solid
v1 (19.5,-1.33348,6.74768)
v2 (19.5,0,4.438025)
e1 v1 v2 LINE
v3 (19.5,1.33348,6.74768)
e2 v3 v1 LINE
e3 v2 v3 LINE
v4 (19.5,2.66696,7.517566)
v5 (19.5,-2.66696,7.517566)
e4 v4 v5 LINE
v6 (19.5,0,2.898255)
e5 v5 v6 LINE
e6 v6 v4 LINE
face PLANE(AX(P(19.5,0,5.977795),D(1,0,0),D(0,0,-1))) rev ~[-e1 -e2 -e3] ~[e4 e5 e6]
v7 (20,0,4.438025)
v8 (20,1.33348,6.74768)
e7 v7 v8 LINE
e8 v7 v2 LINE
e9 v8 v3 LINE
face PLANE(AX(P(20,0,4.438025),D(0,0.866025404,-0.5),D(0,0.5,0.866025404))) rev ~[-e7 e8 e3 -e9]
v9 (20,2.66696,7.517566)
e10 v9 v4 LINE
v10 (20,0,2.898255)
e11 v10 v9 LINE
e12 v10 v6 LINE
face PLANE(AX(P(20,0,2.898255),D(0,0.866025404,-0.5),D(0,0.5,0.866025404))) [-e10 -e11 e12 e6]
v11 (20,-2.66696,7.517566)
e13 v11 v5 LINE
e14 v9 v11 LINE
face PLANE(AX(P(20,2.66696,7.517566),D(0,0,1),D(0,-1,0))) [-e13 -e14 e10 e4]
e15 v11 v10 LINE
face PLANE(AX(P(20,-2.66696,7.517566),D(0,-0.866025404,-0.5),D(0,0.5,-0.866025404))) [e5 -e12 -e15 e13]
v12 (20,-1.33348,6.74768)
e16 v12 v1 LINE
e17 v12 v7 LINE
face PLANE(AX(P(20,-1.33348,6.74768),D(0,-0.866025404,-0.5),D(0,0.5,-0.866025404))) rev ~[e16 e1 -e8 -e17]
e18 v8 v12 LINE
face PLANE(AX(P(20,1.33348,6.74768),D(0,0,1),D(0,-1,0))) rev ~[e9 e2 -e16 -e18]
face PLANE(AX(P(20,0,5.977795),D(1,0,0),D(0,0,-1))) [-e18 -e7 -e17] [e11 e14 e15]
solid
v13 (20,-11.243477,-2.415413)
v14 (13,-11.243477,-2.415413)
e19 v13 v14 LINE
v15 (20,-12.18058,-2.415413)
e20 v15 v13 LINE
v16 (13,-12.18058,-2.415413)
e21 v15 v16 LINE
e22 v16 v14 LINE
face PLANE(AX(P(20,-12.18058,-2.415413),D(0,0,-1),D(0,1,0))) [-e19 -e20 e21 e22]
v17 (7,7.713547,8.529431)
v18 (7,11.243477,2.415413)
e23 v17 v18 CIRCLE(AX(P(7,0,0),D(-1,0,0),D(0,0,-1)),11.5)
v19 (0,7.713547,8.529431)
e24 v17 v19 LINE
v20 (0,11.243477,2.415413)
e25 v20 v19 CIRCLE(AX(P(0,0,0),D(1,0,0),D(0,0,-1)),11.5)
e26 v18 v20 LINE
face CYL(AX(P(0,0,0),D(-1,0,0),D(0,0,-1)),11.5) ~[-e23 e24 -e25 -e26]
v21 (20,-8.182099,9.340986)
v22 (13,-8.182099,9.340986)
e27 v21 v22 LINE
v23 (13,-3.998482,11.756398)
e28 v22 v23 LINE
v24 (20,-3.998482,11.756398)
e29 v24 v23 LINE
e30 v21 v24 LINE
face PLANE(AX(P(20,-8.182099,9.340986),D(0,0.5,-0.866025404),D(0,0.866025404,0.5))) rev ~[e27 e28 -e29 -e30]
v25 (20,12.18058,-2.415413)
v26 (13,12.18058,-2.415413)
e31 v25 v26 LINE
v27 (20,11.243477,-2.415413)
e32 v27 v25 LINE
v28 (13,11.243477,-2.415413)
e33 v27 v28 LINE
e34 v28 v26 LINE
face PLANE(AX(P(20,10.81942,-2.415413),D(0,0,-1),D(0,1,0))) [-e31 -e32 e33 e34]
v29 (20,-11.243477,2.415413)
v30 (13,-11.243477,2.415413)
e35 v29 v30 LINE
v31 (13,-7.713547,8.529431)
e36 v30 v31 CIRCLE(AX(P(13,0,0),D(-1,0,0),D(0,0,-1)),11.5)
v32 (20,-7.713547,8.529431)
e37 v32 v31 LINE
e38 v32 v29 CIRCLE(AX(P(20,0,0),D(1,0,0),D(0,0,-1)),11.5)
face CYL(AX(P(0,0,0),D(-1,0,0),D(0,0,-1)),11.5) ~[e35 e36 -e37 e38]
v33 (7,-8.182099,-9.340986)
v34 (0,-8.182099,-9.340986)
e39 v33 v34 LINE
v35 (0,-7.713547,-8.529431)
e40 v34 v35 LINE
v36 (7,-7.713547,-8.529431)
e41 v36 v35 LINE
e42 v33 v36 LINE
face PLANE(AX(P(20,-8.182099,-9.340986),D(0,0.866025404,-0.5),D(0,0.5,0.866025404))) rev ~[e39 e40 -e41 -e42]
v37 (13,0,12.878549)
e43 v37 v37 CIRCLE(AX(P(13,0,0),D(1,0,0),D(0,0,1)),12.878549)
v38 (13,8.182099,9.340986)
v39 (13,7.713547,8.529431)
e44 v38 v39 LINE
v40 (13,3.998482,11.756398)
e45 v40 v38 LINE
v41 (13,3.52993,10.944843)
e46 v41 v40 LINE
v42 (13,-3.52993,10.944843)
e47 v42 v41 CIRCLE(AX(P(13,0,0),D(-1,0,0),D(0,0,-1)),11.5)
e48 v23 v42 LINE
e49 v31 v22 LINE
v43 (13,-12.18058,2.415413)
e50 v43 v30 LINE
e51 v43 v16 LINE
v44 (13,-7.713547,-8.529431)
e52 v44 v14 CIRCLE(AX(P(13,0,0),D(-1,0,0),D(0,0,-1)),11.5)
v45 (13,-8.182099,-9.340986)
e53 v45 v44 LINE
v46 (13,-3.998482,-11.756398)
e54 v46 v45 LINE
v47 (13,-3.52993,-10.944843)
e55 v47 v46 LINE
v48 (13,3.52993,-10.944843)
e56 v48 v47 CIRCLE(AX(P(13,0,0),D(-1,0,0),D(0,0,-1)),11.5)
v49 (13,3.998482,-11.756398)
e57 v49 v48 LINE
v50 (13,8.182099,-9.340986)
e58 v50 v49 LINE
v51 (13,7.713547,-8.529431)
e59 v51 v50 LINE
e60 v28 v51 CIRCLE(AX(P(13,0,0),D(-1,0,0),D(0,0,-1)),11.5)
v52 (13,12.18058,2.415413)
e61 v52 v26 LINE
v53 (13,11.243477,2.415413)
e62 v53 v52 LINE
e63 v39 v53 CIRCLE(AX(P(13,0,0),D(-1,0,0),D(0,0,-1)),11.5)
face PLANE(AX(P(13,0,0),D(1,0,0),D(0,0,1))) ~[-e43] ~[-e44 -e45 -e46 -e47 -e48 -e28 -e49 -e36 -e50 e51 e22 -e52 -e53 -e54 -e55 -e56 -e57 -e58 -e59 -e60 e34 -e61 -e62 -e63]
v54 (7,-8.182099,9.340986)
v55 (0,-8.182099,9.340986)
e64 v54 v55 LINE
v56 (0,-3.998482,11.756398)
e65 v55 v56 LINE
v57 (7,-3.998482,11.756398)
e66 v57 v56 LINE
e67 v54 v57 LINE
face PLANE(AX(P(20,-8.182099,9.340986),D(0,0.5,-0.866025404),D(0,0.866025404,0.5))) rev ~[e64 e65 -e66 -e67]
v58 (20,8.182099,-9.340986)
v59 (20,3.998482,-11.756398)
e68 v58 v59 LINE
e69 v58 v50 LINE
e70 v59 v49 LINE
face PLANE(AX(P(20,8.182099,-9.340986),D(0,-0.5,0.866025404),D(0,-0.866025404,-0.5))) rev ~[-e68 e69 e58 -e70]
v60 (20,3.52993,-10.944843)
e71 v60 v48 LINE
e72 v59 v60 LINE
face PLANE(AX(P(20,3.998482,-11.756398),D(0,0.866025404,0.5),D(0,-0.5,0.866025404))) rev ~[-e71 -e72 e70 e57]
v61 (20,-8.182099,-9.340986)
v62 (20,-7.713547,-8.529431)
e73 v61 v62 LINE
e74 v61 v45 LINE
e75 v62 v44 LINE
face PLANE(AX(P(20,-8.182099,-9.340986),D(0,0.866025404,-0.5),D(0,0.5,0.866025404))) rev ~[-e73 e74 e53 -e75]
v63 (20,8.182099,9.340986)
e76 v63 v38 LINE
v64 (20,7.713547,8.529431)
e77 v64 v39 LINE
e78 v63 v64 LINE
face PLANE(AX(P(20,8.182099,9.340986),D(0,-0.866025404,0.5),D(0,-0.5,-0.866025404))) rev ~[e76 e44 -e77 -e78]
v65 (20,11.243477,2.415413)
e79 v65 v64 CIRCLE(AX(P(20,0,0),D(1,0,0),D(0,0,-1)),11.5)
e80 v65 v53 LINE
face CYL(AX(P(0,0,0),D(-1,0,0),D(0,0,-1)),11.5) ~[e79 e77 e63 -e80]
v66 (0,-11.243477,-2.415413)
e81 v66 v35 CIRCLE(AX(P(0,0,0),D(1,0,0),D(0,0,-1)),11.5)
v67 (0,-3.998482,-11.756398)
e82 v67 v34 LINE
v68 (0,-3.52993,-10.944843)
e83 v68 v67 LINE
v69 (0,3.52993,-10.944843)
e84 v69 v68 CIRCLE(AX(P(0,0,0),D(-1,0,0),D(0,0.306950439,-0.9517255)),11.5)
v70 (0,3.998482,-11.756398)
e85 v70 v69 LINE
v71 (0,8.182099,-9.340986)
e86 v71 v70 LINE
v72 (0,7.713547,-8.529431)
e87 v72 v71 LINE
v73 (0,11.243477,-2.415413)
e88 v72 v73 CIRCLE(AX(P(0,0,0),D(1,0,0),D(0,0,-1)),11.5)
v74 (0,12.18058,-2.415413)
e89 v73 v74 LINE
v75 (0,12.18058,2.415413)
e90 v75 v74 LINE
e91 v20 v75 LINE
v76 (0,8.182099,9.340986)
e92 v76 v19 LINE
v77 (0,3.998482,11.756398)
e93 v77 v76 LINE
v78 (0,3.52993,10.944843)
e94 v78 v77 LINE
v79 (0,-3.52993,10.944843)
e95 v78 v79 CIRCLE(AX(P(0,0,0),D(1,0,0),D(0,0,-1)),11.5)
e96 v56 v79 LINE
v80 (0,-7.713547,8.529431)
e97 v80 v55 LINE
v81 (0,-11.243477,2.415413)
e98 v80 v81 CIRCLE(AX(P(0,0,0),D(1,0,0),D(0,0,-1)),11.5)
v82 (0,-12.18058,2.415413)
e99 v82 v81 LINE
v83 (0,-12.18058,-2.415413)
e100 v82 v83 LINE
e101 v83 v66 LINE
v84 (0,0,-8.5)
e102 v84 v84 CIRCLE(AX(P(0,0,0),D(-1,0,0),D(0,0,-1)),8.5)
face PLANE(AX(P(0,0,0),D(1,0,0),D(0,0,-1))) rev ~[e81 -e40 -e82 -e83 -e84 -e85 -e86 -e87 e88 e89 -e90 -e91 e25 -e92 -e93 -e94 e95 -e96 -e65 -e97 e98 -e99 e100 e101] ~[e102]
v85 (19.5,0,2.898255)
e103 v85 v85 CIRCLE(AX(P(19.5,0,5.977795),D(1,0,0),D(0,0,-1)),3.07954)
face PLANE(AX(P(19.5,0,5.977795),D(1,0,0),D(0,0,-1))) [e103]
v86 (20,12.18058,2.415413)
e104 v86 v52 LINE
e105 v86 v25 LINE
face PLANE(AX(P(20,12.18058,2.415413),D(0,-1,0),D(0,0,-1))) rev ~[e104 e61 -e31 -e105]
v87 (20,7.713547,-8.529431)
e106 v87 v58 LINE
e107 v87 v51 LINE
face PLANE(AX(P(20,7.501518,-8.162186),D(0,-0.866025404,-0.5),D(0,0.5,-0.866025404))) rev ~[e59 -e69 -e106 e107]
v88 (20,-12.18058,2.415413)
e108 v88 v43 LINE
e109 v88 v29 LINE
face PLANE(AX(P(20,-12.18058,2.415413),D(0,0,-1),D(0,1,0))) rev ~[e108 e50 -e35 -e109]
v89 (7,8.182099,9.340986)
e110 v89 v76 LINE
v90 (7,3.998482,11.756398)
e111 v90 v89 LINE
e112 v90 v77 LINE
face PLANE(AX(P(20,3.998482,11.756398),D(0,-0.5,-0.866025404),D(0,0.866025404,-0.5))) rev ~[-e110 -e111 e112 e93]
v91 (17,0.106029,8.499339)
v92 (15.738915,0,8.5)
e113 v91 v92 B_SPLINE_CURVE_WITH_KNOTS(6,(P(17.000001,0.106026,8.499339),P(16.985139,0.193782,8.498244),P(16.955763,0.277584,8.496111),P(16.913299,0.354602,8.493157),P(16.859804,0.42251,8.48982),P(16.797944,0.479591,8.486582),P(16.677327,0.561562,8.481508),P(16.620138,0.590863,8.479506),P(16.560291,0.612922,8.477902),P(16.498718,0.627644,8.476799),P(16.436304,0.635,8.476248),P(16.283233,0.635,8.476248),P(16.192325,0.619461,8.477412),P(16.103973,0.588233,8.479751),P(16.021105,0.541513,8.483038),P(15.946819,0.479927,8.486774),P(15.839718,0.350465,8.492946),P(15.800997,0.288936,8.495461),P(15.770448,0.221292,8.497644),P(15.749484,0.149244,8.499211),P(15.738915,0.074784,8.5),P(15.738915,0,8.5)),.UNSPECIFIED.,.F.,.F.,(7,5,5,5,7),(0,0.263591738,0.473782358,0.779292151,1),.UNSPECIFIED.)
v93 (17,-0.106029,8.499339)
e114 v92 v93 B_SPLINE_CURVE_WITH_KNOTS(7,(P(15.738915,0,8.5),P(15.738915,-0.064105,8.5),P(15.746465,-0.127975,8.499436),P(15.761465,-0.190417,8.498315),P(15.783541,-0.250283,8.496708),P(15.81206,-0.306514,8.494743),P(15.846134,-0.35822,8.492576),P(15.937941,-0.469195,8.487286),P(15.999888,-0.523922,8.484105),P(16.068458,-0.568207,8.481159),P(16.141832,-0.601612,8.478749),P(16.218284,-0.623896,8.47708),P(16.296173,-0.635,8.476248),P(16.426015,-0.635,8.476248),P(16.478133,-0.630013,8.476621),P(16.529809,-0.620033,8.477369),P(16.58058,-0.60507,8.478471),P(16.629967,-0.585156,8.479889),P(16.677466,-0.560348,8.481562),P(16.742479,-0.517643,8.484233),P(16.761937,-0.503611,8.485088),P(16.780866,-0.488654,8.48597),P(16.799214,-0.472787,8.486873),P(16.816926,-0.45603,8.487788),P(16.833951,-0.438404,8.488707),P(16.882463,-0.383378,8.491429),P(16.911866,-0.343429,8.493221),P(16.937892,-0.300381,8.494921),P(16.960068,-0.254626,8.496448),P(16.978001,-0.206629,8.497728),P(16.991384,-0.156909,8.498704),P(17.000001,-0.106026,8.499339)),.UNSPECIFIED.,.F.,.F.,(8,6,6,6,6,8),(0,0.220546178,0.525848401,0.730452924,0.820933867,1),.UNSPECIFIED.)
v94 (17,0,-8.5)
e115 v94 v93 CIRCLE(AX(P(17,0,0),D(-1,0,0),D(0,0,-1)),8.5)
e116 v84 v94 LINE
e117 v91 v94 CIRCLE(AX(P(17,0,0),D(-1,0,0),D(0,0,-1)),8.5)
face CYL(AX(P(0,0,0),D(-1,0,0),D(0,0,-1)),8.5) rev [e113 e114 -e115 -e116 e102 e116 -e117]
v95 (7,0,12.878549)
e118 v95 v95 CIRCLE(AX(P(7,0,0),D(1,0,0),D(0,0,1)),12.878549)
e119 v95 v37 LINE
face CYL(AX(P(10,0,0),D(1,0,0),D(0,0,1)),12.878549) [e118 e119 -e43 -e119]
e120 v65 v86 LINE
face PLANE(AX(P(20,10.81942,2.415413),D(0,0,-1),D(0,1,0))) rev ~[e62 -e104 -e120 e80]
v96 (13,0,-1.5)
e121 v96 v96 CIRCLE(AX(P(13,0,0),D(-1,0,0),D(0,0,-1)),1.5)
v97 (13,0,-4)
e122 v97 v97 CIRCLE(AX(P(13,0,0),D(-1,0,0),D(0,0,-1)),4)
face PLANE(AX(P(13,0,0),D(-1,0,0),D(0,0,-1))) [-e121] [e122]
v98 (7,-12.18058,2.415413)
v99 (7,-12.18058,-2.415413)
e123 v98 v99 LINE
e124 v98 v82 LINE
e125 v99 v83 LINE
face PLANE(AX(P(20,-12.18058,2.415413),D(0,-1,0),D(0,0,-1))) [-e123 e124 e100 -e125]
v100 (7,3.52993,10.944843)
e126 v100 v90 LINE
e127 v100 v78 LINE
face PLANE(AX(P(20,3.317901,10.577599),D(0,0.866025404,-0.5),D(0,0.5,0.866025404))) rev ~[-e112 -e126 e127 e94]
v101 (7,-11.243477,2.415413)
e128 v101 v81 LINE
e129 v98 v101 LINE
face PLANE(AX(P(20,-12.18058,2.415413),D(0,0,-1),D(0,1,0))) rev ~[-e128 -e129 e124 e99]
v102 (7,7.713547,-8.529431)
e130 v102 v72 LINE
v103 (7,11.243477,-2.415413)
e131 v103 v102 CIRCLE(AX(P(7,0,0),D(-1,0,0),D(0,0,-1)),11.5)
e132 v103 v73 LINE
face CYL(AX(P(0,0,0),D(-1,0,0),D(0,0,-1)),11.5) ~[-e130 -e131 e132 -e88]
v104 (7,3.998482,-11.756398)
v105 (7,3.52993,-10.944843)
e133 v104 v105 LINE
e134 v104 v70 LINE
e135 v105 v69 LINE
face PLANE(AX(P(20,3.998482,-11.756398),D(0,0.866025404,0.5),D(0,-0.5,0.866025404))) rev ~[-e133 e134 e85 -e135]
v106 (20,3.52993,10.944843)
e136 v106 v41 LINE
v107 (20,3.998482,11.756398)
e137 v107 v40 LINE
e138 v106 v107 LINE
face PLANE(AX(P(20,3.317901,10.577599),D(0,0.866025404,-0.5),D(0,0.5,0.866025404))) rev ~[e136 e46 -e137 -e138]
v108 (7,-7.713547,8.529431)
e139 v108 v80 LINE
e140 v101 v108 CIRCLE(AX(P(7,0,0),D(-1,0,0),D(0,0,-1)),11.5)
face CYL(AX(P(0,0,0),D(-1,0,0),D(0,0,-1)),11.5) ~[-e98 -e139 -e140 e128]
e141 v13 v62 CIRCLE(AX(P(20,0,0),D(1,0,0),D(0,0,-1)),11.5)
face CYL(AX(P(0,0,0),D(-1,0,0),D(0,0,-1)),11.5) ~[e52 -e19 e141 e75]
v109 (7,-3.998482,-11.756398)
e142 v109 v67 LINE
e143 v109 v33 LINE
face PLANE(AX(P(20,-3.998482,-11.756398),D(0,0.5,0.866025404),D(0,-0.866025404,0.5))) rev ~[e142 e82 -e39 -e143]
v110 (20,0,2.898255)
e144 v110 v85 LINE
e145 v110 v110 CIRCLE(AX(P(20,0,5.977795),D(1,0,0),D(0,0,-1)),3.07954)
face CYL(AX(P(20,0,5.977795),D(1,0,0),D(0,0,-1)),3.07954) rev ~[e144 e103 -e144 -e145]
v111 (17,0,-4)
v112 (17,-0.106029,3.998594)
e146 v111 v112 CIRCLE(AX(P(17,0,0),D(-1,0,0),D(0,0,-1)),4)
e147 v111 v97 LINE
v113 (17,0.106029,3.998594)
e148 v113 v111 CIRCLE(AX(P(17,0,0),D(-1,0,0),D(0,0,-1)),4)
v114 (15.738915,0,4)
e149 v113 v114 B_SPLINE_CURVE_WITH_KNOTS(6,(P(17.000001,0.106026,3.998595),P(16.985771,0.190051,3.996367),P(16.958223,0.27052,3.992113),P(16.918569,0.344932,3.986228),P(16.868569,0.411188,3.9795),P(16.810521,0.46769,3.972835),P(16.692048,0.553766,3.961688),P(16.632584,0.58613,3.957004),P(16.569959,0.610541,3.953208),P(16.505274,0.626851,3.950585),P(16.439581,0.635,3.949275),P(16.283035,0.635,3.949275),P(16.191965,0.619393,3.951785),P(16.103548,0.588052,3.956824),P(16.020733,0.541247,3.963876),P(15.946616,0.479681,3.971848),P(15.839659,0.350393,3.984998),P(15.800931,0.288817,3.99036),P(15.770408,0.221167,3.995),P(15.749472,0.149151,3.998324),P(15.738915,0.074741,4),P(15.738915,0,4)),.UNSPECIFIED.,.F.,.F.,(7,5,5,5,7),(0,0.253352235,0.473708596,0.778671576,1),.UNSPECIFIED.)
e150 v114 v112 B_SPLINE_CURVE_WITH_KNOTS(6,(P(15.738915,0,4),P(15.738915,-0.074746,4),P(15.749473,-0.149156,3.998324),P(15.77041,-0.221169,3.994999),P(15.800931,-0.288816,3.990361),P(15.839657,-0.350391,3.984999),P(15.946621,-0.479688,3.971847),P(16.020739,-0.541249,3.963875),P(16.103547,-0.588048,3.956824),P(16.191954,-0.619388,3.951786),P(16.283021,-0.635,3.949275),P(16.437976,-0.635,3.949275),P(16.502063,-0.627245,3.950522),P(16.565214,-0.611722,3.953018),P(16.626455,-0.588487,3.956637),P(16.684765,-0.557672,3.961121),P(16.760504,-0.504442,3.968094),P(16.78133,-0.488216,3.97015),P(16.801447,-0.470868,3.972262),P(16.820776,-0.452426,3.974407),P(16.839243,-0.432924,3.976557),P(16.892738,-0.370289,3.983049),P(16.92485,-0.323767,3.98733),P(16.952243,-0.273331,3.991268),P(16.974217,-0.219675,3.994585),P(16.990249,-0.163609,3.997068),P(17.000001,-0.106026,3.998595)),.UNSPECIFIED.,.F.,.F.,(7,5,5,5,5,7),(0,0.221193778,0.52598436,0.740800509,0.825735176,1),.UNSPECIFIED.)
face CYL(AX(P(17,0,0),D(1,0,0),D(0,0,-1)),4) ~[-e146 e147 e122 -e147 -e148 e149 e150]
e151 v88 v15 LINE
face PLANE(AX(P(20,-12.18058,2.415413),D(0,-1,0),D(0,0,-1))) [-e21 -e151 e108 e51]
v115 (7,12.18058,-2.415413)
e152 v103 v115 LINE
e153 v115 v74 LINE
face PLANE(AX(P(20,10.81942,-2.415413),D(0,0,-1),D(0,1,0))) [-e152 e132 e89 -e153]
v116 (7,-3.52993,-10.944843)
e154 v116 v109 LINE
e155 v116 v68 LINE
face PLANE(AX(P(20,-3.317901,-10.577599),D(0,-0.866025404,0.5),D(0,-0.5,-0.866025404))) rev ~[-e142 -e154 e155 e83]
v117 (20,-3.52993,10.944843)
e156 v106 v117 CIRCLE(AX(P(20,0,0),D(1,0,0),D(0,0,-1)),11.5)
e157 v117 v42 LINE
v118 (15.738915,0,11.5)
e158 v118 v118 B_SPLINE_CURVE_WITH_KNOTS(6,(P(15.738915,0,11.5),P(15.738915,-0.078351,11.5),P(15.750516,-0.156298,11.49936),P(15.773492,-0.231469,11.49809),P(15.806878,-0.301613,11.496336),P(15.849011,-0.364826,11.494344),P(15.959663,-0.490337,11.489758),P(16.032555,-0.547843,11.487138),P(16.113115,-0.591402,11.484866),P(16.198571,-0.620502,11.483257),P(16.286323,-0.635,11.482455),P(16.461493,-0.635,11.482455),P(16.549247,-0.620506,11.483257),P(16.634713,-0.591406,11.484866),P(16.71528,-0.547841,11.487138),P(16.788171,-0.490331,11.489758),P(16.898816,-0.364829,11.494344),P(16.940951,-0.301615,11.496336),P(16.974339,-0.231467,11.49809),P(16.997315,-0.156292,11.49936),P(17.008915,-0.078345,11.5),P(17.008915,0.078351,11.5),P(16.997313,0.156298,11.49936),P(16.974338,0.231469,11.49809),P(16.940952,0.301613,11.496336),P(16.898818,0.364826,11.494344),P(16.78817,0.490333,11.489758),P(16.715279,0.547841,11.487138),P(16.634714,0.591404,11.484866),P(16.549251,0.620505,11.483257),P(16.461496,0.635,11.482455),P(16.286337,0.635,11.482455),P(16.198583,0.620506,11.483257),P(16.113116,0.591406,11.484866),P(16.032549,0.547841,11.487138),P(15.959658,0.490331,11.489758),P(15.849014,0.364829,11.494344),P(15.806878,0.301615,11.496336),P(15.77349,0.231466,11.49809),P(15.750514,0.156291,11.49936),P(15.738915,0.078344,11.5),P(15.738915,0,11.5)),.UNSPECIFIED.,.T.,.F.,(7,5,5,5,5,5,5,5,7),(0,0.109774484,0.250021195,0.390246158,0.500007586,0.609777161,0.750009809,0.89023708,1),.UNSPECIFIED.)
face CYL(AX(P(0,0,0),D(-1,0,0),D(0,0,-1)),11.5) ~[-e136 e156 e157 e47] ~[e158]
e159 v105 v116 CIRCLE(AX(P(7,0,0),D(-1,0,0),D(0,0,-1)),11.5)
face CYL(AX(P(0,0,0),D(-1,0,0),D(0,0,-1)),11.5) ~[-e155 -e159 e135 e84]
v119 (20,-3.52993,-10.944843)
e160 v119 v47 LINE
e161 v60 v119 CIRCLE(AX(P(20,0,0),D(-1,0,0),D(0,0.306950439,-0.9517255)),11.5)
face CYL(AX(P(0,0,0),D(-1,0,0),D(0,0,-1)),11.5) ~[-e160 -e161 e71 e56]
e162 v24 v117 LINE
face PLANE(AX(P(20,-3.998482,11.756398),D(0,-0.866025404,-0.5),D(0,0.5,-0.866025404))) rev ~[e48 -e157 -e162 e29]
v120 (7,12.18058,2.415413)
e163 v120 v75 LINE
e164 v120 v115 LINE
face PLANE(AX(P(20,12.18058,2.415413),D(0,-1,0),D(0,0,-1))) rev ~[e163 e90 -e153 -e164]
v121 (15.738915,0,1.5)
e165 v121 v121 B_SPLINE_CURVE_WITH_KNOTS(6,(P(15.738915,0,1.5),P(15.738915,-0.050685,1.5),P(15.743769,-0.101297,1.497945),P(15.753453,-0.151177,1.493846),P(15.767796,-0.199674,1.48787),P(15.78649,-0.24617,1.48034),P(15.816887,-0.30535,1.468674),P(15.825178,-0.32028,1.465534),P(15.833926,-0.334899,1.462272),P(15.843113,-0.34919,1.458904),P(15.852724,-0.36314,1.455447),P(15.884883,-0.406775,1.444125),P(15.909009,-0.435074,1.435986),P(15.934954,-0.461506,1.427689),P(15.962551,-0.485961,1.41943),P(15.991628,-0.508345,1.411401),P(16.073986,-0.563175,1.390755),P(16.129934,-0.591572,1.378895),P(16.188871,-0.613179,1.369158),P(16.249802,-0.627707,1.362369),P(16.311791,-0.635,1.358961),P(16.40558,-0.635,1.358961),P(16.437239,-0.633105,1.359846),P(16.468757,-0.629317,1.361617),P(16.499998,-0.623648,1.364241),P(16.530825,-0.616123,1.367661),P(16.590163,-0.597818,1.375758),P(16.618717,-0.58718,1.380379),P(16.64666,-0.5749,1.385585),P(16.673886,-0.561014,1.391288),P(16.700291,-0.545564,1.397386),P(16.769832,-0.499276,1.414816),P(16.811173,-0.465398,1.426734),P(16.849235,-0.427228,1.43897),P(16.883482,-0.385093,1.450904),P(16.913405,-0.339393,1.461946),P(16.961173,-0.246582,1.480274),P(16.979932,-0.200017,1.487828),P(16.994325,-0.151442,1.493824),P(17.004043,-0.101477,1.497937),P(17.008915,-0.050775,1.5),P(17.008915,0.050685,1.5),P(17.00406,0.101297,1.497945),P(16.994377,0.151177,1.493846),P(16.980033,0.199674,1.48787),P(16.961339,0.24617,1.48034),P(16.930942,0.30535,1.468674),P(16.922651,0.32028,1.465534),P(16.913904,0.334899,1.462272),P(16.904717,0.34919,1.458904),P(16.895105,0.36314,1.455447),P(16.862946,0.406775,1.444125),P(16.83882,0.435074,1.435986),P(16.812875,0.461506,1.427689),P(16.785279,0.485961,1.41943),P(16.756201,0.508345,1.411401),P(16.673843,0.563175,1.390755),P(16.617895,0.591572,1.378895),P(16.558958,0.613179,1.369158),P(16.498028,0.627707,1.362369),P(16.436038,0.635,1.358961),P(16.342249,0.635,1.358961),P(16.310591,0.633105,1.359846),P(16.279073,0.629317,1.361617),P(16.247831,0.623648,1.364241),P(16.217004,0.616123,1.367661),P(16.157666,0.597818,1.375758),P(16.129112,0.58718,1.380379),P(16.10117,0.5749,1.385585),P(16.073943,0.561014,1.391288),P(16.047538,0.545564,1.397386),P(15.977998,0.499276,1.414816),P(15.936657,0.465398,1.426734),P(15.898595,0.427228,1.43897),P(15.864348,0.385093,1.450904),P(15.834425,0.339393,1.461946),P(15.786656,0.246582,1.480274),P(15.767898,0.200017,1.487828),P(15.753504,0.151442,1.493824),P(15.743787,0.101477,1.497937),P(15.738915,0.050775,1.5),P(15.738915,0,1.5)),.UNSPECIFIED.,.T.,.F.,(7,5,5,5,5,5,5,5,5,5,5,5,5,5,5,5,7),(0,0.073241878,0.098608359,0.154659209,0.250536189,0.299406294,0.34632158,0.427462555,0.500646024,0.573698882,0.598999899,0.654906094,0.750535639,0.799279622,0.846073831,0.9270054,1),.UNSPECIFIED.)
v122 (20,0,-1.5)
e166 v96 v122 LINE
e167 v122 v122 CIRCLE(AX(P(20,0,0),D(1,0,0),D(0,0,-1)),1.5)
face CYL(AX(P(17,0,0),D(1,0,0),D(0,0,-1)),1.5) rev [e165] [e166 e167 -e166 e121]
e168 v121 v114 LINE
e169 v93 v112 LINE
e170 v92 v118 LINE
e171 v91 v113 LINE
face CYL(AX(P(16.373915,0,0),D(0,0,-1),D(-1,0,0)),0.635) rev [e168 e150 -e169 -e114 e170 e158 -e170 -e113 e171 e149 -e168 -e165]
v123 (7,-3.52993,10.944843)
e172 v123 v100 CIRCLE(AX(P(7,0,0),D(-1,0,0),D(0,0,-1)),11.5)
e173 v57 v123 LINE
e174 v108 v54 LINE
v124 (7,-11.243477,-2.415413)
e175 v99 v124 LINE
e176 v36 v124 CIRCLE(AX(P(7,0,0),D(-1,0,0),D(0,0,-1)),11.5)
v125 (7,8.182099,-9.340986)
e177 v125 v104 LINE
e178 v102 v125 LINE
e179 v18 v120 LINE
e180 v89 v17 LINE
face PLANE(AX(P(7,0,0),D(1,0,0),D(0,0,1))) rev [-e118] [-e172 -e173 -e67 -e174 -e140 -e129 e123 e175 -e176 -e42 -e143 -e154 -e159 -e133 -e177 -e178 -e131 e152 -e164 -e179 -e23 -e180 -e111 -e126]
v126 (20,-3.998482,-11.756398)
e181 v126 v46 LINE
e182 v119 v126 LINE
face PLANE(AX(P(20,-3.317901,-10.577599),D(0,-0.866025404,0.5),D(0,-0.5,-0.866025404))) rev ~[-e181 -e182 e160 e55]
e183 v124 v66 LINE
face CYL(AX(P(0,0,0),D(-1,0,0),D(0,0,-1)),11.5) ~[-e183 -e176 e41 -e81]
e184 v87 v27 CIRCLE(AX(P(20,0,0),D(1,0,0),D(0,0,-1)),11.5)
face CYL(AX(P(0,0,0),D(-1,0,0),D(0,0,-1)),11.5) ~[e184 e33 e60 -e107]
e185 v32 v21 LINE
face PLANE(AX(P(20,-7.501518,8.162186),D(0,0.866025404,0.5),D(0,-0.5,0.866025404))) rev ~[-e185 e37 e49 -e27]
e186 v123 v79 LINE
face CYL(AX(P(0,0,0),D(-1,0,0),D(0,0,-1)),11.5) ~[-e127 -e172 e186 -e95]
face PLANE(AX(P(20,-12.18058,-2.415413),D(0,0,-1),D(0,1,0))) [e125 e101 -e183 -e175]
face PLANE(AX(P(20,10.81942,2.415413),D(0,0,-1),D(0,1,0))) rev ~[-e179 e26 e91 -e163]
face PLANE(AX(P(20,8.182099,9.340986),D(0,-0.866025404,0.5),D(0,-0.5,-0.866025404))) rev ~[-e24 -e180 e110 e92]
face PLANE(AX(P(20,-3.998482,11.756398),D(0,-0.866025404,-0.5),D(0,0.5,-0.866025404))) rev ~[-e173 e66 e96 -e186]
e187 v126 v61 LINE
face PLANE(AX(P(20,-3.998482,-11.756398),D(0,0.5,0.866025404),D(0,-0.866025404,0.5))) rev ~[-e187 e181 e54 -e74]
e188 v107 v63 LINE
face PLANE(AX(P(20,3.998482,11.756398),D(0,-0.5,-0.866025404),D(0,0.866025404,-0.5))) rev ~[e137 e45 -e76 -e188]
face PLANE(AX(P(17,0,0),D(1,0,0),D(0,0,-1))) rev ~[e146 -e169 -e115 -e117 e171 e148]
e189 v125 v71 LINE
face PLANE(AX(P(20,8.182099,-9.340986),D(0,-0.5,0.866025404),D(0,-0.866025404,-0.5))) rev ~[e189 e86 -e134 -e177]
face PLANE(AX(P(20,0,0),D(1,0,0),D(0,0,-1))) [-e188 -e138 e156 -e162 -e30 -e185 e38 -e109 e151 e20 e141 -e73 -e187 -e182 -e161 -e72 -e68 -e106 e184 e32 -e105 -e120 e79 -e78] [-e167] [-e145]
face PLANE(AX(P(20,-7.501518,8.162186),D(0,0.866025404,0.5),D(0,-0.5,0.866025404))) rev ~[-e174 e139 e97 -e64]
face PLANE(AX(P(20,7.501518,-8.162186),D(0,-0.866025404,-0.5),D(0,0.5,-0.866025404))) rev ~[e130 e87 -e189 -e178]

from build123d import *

# Parameters (mm, degrees)
CROQUIS1_R              = 11.5
SALIENTE_EXTRUIR1_DEPTH = 20
VACIADO2_T              = -3
CROQUIS2_R              = 1.5
CORTAR_EXTRUIR1_DEPTH   = 20
CROQUIS3_W              = 4.830825058
CROQUIS3_H              = 1.361160648
SALIENTE_EXTRUIR2_DEPTH = 20
CROQUIS4_W              = 6
CROQUIS4_H              = 1.635071494
CROQUIS5_R              = 4
CROQUIS5_R_2            = 1.5
SALIENTE_EXTRUIR3_DEPTH = 4
CROQUIS6_R              = 3.079540119
CORTAR_EXTRUIR3_DEPTH   = 0.5
SALIENTE_EXTRUIR4_DEPTH = 0.5
CROQUIS9_R              = 0.635
CORTAR_EXTRUIR4_DEPTH   = 20


with BuildPart() as part:
    # Croquis1 → Saliente-Extruir1 (new body)
    with BuildSketch(Plane(origin=(0, 0, 0), x_dir=(0, 0, -1), z_dir=(1, 0, 0))):
        Circle(CROQUIS1_R)
    extrude(amount=SALIENTE_EXTRUIR1_DEPTH)

    # Vaciado2
    vaciado2_openings = [part.faces().sort_by_distance(p)[0] for p in [
        (0, 0, 0),
    ]]
    offset(amount=VACIADO2_T, openings=vaciado2_openings, kind=Kind.INTERSECTION)

    # Croquis2 → Cortar-Extruir1 (cut)
    with BuildSketch(Plane(origin=(20, 0, 0), x_dir=(0, 0, -1), z_dir=(1, 0, 0))):
        Circle(CROQUIS2_R)
    extrude(amount=-CORTAR_EXTRUIR1_DEPTH, mode=Mode.SUBTRACT)

    # Croquis3 → Saliente-Extruir2 (add, through all)
    with BuildSketch(Plane(origin=(20, 0, 0), x_dir=(0, 0, -1), z_dir=(1, 0, 0))):
        with Locations((0, 11.5)):
            Rectangle(CROQUIS3_W, CROQUIS3_H)
        Polygon((8.162186029, 7.501518448), (9.340985729, 8.182098773), (11.756398258, 3.998481552), (10.577598558, 3.317901227), align=None)
        Polygon((10.577598558, -3.317901227), (11.756398258, -3.998481552), (9.340985729, -8.182098773), (8.162186029, -7.501518448), align=None)
        with Locations((0, -11.5)):
            Rectangle(CROQUIS3_W, CROQUIS3_H)
        Polygon((-8.162186029, -7.501518448), (-9.340985729, -8.182098773), (-11.756398258, -3.998481552), (-10.577598558, -3.317901227), align=None)
        Polygon((-10.577598558, 3.317901227), (-11.756398258, 3.998481552), (-9.340985729, 8.182098773), (-8.162186029, 7.501518448), align=None)
    extrude(amount=-SALIENTE_EXTRUIR2_DEPTH)

    # Croquis4 → Revolución1 (revolve)
    with BuildSketch(Plane.XY, mode=Mode.PRIVATE) as revoluci_n1_sk:
        with Locations((10, 12.06101307)):
            Rectangle(CROQUIS4_W, CROQUIS4_H)
    revolve(revoluci_n1_sk.sketch.rotate(Axis((-1.379569835, 0, 0), (1, 0, 0)), 90), axis=Axis((-1.379569835, 0, 0), (1, 0, 0)))

    # Croquis5 → Saliente-Extruir3 (add)
    with BuildSketch(Plane.ZY.offset(-17)):
        with Locations(Location((0, 0, 0), (0, 0, 180))):
            Circle(CROQUIS5_R)
        with Locations(Location((0, 0, 0), (0, 0, 180))):
            Circle(CROQUIS5_R_2, mode=Mode.SUBTRACT)
    extrude(amount=SALIENTE_EXTRUIR3_DEPTH)

    # Croquis6 → Cortar-Extruir3 (cut)
    with BuildSketch(Plane(origin=(20, 0, 0), x_dir=(0, 0, -1), z_dir=(1, 0, 0))):
        with Locations((-5.977795462, 0)):
            Circle(CROQUIS6_R)
    extrude(amount=-CORTAR_EXTRUIR3_DEPTH, mode=Mode.SUBTRACT)

    # Croquis9 → Cortar-Extruir4 (cut)
    with BuildSketch(Plane.XY):
        with Locations(Location((16.373914727, 0, 0), (0, 0, 180))):
            Circle(CROQUIS9_R)
    extrude(amount=CORTAR_EXTRUIR4_DEPTH, mode=Mode.SUBTRACT)


with BuildPart() as body_2:
    # Croquis8 → Saliente-Extruir4 (new body)
    with BuildSketch(Plane(origin=(20, 0, 0), x_dir=(0, 0, -1), z_dir=(1, 0, 0))):
        Polygon((-2.898255343, 0), (-7.517565521, 2.666959975), (-7.517565521, -2.666959975), align=None)
        Polygon((-4.438025402, 0), (-6.747680491, 1.333479987), (-6.747680491, -1.333479987), align=None, mode=Mode.SUBTRACT)
    extrude(amount=-SALIENTE_EXTRUIR4_DEPTH)


solid = Compound([part.part, body_2.part])
